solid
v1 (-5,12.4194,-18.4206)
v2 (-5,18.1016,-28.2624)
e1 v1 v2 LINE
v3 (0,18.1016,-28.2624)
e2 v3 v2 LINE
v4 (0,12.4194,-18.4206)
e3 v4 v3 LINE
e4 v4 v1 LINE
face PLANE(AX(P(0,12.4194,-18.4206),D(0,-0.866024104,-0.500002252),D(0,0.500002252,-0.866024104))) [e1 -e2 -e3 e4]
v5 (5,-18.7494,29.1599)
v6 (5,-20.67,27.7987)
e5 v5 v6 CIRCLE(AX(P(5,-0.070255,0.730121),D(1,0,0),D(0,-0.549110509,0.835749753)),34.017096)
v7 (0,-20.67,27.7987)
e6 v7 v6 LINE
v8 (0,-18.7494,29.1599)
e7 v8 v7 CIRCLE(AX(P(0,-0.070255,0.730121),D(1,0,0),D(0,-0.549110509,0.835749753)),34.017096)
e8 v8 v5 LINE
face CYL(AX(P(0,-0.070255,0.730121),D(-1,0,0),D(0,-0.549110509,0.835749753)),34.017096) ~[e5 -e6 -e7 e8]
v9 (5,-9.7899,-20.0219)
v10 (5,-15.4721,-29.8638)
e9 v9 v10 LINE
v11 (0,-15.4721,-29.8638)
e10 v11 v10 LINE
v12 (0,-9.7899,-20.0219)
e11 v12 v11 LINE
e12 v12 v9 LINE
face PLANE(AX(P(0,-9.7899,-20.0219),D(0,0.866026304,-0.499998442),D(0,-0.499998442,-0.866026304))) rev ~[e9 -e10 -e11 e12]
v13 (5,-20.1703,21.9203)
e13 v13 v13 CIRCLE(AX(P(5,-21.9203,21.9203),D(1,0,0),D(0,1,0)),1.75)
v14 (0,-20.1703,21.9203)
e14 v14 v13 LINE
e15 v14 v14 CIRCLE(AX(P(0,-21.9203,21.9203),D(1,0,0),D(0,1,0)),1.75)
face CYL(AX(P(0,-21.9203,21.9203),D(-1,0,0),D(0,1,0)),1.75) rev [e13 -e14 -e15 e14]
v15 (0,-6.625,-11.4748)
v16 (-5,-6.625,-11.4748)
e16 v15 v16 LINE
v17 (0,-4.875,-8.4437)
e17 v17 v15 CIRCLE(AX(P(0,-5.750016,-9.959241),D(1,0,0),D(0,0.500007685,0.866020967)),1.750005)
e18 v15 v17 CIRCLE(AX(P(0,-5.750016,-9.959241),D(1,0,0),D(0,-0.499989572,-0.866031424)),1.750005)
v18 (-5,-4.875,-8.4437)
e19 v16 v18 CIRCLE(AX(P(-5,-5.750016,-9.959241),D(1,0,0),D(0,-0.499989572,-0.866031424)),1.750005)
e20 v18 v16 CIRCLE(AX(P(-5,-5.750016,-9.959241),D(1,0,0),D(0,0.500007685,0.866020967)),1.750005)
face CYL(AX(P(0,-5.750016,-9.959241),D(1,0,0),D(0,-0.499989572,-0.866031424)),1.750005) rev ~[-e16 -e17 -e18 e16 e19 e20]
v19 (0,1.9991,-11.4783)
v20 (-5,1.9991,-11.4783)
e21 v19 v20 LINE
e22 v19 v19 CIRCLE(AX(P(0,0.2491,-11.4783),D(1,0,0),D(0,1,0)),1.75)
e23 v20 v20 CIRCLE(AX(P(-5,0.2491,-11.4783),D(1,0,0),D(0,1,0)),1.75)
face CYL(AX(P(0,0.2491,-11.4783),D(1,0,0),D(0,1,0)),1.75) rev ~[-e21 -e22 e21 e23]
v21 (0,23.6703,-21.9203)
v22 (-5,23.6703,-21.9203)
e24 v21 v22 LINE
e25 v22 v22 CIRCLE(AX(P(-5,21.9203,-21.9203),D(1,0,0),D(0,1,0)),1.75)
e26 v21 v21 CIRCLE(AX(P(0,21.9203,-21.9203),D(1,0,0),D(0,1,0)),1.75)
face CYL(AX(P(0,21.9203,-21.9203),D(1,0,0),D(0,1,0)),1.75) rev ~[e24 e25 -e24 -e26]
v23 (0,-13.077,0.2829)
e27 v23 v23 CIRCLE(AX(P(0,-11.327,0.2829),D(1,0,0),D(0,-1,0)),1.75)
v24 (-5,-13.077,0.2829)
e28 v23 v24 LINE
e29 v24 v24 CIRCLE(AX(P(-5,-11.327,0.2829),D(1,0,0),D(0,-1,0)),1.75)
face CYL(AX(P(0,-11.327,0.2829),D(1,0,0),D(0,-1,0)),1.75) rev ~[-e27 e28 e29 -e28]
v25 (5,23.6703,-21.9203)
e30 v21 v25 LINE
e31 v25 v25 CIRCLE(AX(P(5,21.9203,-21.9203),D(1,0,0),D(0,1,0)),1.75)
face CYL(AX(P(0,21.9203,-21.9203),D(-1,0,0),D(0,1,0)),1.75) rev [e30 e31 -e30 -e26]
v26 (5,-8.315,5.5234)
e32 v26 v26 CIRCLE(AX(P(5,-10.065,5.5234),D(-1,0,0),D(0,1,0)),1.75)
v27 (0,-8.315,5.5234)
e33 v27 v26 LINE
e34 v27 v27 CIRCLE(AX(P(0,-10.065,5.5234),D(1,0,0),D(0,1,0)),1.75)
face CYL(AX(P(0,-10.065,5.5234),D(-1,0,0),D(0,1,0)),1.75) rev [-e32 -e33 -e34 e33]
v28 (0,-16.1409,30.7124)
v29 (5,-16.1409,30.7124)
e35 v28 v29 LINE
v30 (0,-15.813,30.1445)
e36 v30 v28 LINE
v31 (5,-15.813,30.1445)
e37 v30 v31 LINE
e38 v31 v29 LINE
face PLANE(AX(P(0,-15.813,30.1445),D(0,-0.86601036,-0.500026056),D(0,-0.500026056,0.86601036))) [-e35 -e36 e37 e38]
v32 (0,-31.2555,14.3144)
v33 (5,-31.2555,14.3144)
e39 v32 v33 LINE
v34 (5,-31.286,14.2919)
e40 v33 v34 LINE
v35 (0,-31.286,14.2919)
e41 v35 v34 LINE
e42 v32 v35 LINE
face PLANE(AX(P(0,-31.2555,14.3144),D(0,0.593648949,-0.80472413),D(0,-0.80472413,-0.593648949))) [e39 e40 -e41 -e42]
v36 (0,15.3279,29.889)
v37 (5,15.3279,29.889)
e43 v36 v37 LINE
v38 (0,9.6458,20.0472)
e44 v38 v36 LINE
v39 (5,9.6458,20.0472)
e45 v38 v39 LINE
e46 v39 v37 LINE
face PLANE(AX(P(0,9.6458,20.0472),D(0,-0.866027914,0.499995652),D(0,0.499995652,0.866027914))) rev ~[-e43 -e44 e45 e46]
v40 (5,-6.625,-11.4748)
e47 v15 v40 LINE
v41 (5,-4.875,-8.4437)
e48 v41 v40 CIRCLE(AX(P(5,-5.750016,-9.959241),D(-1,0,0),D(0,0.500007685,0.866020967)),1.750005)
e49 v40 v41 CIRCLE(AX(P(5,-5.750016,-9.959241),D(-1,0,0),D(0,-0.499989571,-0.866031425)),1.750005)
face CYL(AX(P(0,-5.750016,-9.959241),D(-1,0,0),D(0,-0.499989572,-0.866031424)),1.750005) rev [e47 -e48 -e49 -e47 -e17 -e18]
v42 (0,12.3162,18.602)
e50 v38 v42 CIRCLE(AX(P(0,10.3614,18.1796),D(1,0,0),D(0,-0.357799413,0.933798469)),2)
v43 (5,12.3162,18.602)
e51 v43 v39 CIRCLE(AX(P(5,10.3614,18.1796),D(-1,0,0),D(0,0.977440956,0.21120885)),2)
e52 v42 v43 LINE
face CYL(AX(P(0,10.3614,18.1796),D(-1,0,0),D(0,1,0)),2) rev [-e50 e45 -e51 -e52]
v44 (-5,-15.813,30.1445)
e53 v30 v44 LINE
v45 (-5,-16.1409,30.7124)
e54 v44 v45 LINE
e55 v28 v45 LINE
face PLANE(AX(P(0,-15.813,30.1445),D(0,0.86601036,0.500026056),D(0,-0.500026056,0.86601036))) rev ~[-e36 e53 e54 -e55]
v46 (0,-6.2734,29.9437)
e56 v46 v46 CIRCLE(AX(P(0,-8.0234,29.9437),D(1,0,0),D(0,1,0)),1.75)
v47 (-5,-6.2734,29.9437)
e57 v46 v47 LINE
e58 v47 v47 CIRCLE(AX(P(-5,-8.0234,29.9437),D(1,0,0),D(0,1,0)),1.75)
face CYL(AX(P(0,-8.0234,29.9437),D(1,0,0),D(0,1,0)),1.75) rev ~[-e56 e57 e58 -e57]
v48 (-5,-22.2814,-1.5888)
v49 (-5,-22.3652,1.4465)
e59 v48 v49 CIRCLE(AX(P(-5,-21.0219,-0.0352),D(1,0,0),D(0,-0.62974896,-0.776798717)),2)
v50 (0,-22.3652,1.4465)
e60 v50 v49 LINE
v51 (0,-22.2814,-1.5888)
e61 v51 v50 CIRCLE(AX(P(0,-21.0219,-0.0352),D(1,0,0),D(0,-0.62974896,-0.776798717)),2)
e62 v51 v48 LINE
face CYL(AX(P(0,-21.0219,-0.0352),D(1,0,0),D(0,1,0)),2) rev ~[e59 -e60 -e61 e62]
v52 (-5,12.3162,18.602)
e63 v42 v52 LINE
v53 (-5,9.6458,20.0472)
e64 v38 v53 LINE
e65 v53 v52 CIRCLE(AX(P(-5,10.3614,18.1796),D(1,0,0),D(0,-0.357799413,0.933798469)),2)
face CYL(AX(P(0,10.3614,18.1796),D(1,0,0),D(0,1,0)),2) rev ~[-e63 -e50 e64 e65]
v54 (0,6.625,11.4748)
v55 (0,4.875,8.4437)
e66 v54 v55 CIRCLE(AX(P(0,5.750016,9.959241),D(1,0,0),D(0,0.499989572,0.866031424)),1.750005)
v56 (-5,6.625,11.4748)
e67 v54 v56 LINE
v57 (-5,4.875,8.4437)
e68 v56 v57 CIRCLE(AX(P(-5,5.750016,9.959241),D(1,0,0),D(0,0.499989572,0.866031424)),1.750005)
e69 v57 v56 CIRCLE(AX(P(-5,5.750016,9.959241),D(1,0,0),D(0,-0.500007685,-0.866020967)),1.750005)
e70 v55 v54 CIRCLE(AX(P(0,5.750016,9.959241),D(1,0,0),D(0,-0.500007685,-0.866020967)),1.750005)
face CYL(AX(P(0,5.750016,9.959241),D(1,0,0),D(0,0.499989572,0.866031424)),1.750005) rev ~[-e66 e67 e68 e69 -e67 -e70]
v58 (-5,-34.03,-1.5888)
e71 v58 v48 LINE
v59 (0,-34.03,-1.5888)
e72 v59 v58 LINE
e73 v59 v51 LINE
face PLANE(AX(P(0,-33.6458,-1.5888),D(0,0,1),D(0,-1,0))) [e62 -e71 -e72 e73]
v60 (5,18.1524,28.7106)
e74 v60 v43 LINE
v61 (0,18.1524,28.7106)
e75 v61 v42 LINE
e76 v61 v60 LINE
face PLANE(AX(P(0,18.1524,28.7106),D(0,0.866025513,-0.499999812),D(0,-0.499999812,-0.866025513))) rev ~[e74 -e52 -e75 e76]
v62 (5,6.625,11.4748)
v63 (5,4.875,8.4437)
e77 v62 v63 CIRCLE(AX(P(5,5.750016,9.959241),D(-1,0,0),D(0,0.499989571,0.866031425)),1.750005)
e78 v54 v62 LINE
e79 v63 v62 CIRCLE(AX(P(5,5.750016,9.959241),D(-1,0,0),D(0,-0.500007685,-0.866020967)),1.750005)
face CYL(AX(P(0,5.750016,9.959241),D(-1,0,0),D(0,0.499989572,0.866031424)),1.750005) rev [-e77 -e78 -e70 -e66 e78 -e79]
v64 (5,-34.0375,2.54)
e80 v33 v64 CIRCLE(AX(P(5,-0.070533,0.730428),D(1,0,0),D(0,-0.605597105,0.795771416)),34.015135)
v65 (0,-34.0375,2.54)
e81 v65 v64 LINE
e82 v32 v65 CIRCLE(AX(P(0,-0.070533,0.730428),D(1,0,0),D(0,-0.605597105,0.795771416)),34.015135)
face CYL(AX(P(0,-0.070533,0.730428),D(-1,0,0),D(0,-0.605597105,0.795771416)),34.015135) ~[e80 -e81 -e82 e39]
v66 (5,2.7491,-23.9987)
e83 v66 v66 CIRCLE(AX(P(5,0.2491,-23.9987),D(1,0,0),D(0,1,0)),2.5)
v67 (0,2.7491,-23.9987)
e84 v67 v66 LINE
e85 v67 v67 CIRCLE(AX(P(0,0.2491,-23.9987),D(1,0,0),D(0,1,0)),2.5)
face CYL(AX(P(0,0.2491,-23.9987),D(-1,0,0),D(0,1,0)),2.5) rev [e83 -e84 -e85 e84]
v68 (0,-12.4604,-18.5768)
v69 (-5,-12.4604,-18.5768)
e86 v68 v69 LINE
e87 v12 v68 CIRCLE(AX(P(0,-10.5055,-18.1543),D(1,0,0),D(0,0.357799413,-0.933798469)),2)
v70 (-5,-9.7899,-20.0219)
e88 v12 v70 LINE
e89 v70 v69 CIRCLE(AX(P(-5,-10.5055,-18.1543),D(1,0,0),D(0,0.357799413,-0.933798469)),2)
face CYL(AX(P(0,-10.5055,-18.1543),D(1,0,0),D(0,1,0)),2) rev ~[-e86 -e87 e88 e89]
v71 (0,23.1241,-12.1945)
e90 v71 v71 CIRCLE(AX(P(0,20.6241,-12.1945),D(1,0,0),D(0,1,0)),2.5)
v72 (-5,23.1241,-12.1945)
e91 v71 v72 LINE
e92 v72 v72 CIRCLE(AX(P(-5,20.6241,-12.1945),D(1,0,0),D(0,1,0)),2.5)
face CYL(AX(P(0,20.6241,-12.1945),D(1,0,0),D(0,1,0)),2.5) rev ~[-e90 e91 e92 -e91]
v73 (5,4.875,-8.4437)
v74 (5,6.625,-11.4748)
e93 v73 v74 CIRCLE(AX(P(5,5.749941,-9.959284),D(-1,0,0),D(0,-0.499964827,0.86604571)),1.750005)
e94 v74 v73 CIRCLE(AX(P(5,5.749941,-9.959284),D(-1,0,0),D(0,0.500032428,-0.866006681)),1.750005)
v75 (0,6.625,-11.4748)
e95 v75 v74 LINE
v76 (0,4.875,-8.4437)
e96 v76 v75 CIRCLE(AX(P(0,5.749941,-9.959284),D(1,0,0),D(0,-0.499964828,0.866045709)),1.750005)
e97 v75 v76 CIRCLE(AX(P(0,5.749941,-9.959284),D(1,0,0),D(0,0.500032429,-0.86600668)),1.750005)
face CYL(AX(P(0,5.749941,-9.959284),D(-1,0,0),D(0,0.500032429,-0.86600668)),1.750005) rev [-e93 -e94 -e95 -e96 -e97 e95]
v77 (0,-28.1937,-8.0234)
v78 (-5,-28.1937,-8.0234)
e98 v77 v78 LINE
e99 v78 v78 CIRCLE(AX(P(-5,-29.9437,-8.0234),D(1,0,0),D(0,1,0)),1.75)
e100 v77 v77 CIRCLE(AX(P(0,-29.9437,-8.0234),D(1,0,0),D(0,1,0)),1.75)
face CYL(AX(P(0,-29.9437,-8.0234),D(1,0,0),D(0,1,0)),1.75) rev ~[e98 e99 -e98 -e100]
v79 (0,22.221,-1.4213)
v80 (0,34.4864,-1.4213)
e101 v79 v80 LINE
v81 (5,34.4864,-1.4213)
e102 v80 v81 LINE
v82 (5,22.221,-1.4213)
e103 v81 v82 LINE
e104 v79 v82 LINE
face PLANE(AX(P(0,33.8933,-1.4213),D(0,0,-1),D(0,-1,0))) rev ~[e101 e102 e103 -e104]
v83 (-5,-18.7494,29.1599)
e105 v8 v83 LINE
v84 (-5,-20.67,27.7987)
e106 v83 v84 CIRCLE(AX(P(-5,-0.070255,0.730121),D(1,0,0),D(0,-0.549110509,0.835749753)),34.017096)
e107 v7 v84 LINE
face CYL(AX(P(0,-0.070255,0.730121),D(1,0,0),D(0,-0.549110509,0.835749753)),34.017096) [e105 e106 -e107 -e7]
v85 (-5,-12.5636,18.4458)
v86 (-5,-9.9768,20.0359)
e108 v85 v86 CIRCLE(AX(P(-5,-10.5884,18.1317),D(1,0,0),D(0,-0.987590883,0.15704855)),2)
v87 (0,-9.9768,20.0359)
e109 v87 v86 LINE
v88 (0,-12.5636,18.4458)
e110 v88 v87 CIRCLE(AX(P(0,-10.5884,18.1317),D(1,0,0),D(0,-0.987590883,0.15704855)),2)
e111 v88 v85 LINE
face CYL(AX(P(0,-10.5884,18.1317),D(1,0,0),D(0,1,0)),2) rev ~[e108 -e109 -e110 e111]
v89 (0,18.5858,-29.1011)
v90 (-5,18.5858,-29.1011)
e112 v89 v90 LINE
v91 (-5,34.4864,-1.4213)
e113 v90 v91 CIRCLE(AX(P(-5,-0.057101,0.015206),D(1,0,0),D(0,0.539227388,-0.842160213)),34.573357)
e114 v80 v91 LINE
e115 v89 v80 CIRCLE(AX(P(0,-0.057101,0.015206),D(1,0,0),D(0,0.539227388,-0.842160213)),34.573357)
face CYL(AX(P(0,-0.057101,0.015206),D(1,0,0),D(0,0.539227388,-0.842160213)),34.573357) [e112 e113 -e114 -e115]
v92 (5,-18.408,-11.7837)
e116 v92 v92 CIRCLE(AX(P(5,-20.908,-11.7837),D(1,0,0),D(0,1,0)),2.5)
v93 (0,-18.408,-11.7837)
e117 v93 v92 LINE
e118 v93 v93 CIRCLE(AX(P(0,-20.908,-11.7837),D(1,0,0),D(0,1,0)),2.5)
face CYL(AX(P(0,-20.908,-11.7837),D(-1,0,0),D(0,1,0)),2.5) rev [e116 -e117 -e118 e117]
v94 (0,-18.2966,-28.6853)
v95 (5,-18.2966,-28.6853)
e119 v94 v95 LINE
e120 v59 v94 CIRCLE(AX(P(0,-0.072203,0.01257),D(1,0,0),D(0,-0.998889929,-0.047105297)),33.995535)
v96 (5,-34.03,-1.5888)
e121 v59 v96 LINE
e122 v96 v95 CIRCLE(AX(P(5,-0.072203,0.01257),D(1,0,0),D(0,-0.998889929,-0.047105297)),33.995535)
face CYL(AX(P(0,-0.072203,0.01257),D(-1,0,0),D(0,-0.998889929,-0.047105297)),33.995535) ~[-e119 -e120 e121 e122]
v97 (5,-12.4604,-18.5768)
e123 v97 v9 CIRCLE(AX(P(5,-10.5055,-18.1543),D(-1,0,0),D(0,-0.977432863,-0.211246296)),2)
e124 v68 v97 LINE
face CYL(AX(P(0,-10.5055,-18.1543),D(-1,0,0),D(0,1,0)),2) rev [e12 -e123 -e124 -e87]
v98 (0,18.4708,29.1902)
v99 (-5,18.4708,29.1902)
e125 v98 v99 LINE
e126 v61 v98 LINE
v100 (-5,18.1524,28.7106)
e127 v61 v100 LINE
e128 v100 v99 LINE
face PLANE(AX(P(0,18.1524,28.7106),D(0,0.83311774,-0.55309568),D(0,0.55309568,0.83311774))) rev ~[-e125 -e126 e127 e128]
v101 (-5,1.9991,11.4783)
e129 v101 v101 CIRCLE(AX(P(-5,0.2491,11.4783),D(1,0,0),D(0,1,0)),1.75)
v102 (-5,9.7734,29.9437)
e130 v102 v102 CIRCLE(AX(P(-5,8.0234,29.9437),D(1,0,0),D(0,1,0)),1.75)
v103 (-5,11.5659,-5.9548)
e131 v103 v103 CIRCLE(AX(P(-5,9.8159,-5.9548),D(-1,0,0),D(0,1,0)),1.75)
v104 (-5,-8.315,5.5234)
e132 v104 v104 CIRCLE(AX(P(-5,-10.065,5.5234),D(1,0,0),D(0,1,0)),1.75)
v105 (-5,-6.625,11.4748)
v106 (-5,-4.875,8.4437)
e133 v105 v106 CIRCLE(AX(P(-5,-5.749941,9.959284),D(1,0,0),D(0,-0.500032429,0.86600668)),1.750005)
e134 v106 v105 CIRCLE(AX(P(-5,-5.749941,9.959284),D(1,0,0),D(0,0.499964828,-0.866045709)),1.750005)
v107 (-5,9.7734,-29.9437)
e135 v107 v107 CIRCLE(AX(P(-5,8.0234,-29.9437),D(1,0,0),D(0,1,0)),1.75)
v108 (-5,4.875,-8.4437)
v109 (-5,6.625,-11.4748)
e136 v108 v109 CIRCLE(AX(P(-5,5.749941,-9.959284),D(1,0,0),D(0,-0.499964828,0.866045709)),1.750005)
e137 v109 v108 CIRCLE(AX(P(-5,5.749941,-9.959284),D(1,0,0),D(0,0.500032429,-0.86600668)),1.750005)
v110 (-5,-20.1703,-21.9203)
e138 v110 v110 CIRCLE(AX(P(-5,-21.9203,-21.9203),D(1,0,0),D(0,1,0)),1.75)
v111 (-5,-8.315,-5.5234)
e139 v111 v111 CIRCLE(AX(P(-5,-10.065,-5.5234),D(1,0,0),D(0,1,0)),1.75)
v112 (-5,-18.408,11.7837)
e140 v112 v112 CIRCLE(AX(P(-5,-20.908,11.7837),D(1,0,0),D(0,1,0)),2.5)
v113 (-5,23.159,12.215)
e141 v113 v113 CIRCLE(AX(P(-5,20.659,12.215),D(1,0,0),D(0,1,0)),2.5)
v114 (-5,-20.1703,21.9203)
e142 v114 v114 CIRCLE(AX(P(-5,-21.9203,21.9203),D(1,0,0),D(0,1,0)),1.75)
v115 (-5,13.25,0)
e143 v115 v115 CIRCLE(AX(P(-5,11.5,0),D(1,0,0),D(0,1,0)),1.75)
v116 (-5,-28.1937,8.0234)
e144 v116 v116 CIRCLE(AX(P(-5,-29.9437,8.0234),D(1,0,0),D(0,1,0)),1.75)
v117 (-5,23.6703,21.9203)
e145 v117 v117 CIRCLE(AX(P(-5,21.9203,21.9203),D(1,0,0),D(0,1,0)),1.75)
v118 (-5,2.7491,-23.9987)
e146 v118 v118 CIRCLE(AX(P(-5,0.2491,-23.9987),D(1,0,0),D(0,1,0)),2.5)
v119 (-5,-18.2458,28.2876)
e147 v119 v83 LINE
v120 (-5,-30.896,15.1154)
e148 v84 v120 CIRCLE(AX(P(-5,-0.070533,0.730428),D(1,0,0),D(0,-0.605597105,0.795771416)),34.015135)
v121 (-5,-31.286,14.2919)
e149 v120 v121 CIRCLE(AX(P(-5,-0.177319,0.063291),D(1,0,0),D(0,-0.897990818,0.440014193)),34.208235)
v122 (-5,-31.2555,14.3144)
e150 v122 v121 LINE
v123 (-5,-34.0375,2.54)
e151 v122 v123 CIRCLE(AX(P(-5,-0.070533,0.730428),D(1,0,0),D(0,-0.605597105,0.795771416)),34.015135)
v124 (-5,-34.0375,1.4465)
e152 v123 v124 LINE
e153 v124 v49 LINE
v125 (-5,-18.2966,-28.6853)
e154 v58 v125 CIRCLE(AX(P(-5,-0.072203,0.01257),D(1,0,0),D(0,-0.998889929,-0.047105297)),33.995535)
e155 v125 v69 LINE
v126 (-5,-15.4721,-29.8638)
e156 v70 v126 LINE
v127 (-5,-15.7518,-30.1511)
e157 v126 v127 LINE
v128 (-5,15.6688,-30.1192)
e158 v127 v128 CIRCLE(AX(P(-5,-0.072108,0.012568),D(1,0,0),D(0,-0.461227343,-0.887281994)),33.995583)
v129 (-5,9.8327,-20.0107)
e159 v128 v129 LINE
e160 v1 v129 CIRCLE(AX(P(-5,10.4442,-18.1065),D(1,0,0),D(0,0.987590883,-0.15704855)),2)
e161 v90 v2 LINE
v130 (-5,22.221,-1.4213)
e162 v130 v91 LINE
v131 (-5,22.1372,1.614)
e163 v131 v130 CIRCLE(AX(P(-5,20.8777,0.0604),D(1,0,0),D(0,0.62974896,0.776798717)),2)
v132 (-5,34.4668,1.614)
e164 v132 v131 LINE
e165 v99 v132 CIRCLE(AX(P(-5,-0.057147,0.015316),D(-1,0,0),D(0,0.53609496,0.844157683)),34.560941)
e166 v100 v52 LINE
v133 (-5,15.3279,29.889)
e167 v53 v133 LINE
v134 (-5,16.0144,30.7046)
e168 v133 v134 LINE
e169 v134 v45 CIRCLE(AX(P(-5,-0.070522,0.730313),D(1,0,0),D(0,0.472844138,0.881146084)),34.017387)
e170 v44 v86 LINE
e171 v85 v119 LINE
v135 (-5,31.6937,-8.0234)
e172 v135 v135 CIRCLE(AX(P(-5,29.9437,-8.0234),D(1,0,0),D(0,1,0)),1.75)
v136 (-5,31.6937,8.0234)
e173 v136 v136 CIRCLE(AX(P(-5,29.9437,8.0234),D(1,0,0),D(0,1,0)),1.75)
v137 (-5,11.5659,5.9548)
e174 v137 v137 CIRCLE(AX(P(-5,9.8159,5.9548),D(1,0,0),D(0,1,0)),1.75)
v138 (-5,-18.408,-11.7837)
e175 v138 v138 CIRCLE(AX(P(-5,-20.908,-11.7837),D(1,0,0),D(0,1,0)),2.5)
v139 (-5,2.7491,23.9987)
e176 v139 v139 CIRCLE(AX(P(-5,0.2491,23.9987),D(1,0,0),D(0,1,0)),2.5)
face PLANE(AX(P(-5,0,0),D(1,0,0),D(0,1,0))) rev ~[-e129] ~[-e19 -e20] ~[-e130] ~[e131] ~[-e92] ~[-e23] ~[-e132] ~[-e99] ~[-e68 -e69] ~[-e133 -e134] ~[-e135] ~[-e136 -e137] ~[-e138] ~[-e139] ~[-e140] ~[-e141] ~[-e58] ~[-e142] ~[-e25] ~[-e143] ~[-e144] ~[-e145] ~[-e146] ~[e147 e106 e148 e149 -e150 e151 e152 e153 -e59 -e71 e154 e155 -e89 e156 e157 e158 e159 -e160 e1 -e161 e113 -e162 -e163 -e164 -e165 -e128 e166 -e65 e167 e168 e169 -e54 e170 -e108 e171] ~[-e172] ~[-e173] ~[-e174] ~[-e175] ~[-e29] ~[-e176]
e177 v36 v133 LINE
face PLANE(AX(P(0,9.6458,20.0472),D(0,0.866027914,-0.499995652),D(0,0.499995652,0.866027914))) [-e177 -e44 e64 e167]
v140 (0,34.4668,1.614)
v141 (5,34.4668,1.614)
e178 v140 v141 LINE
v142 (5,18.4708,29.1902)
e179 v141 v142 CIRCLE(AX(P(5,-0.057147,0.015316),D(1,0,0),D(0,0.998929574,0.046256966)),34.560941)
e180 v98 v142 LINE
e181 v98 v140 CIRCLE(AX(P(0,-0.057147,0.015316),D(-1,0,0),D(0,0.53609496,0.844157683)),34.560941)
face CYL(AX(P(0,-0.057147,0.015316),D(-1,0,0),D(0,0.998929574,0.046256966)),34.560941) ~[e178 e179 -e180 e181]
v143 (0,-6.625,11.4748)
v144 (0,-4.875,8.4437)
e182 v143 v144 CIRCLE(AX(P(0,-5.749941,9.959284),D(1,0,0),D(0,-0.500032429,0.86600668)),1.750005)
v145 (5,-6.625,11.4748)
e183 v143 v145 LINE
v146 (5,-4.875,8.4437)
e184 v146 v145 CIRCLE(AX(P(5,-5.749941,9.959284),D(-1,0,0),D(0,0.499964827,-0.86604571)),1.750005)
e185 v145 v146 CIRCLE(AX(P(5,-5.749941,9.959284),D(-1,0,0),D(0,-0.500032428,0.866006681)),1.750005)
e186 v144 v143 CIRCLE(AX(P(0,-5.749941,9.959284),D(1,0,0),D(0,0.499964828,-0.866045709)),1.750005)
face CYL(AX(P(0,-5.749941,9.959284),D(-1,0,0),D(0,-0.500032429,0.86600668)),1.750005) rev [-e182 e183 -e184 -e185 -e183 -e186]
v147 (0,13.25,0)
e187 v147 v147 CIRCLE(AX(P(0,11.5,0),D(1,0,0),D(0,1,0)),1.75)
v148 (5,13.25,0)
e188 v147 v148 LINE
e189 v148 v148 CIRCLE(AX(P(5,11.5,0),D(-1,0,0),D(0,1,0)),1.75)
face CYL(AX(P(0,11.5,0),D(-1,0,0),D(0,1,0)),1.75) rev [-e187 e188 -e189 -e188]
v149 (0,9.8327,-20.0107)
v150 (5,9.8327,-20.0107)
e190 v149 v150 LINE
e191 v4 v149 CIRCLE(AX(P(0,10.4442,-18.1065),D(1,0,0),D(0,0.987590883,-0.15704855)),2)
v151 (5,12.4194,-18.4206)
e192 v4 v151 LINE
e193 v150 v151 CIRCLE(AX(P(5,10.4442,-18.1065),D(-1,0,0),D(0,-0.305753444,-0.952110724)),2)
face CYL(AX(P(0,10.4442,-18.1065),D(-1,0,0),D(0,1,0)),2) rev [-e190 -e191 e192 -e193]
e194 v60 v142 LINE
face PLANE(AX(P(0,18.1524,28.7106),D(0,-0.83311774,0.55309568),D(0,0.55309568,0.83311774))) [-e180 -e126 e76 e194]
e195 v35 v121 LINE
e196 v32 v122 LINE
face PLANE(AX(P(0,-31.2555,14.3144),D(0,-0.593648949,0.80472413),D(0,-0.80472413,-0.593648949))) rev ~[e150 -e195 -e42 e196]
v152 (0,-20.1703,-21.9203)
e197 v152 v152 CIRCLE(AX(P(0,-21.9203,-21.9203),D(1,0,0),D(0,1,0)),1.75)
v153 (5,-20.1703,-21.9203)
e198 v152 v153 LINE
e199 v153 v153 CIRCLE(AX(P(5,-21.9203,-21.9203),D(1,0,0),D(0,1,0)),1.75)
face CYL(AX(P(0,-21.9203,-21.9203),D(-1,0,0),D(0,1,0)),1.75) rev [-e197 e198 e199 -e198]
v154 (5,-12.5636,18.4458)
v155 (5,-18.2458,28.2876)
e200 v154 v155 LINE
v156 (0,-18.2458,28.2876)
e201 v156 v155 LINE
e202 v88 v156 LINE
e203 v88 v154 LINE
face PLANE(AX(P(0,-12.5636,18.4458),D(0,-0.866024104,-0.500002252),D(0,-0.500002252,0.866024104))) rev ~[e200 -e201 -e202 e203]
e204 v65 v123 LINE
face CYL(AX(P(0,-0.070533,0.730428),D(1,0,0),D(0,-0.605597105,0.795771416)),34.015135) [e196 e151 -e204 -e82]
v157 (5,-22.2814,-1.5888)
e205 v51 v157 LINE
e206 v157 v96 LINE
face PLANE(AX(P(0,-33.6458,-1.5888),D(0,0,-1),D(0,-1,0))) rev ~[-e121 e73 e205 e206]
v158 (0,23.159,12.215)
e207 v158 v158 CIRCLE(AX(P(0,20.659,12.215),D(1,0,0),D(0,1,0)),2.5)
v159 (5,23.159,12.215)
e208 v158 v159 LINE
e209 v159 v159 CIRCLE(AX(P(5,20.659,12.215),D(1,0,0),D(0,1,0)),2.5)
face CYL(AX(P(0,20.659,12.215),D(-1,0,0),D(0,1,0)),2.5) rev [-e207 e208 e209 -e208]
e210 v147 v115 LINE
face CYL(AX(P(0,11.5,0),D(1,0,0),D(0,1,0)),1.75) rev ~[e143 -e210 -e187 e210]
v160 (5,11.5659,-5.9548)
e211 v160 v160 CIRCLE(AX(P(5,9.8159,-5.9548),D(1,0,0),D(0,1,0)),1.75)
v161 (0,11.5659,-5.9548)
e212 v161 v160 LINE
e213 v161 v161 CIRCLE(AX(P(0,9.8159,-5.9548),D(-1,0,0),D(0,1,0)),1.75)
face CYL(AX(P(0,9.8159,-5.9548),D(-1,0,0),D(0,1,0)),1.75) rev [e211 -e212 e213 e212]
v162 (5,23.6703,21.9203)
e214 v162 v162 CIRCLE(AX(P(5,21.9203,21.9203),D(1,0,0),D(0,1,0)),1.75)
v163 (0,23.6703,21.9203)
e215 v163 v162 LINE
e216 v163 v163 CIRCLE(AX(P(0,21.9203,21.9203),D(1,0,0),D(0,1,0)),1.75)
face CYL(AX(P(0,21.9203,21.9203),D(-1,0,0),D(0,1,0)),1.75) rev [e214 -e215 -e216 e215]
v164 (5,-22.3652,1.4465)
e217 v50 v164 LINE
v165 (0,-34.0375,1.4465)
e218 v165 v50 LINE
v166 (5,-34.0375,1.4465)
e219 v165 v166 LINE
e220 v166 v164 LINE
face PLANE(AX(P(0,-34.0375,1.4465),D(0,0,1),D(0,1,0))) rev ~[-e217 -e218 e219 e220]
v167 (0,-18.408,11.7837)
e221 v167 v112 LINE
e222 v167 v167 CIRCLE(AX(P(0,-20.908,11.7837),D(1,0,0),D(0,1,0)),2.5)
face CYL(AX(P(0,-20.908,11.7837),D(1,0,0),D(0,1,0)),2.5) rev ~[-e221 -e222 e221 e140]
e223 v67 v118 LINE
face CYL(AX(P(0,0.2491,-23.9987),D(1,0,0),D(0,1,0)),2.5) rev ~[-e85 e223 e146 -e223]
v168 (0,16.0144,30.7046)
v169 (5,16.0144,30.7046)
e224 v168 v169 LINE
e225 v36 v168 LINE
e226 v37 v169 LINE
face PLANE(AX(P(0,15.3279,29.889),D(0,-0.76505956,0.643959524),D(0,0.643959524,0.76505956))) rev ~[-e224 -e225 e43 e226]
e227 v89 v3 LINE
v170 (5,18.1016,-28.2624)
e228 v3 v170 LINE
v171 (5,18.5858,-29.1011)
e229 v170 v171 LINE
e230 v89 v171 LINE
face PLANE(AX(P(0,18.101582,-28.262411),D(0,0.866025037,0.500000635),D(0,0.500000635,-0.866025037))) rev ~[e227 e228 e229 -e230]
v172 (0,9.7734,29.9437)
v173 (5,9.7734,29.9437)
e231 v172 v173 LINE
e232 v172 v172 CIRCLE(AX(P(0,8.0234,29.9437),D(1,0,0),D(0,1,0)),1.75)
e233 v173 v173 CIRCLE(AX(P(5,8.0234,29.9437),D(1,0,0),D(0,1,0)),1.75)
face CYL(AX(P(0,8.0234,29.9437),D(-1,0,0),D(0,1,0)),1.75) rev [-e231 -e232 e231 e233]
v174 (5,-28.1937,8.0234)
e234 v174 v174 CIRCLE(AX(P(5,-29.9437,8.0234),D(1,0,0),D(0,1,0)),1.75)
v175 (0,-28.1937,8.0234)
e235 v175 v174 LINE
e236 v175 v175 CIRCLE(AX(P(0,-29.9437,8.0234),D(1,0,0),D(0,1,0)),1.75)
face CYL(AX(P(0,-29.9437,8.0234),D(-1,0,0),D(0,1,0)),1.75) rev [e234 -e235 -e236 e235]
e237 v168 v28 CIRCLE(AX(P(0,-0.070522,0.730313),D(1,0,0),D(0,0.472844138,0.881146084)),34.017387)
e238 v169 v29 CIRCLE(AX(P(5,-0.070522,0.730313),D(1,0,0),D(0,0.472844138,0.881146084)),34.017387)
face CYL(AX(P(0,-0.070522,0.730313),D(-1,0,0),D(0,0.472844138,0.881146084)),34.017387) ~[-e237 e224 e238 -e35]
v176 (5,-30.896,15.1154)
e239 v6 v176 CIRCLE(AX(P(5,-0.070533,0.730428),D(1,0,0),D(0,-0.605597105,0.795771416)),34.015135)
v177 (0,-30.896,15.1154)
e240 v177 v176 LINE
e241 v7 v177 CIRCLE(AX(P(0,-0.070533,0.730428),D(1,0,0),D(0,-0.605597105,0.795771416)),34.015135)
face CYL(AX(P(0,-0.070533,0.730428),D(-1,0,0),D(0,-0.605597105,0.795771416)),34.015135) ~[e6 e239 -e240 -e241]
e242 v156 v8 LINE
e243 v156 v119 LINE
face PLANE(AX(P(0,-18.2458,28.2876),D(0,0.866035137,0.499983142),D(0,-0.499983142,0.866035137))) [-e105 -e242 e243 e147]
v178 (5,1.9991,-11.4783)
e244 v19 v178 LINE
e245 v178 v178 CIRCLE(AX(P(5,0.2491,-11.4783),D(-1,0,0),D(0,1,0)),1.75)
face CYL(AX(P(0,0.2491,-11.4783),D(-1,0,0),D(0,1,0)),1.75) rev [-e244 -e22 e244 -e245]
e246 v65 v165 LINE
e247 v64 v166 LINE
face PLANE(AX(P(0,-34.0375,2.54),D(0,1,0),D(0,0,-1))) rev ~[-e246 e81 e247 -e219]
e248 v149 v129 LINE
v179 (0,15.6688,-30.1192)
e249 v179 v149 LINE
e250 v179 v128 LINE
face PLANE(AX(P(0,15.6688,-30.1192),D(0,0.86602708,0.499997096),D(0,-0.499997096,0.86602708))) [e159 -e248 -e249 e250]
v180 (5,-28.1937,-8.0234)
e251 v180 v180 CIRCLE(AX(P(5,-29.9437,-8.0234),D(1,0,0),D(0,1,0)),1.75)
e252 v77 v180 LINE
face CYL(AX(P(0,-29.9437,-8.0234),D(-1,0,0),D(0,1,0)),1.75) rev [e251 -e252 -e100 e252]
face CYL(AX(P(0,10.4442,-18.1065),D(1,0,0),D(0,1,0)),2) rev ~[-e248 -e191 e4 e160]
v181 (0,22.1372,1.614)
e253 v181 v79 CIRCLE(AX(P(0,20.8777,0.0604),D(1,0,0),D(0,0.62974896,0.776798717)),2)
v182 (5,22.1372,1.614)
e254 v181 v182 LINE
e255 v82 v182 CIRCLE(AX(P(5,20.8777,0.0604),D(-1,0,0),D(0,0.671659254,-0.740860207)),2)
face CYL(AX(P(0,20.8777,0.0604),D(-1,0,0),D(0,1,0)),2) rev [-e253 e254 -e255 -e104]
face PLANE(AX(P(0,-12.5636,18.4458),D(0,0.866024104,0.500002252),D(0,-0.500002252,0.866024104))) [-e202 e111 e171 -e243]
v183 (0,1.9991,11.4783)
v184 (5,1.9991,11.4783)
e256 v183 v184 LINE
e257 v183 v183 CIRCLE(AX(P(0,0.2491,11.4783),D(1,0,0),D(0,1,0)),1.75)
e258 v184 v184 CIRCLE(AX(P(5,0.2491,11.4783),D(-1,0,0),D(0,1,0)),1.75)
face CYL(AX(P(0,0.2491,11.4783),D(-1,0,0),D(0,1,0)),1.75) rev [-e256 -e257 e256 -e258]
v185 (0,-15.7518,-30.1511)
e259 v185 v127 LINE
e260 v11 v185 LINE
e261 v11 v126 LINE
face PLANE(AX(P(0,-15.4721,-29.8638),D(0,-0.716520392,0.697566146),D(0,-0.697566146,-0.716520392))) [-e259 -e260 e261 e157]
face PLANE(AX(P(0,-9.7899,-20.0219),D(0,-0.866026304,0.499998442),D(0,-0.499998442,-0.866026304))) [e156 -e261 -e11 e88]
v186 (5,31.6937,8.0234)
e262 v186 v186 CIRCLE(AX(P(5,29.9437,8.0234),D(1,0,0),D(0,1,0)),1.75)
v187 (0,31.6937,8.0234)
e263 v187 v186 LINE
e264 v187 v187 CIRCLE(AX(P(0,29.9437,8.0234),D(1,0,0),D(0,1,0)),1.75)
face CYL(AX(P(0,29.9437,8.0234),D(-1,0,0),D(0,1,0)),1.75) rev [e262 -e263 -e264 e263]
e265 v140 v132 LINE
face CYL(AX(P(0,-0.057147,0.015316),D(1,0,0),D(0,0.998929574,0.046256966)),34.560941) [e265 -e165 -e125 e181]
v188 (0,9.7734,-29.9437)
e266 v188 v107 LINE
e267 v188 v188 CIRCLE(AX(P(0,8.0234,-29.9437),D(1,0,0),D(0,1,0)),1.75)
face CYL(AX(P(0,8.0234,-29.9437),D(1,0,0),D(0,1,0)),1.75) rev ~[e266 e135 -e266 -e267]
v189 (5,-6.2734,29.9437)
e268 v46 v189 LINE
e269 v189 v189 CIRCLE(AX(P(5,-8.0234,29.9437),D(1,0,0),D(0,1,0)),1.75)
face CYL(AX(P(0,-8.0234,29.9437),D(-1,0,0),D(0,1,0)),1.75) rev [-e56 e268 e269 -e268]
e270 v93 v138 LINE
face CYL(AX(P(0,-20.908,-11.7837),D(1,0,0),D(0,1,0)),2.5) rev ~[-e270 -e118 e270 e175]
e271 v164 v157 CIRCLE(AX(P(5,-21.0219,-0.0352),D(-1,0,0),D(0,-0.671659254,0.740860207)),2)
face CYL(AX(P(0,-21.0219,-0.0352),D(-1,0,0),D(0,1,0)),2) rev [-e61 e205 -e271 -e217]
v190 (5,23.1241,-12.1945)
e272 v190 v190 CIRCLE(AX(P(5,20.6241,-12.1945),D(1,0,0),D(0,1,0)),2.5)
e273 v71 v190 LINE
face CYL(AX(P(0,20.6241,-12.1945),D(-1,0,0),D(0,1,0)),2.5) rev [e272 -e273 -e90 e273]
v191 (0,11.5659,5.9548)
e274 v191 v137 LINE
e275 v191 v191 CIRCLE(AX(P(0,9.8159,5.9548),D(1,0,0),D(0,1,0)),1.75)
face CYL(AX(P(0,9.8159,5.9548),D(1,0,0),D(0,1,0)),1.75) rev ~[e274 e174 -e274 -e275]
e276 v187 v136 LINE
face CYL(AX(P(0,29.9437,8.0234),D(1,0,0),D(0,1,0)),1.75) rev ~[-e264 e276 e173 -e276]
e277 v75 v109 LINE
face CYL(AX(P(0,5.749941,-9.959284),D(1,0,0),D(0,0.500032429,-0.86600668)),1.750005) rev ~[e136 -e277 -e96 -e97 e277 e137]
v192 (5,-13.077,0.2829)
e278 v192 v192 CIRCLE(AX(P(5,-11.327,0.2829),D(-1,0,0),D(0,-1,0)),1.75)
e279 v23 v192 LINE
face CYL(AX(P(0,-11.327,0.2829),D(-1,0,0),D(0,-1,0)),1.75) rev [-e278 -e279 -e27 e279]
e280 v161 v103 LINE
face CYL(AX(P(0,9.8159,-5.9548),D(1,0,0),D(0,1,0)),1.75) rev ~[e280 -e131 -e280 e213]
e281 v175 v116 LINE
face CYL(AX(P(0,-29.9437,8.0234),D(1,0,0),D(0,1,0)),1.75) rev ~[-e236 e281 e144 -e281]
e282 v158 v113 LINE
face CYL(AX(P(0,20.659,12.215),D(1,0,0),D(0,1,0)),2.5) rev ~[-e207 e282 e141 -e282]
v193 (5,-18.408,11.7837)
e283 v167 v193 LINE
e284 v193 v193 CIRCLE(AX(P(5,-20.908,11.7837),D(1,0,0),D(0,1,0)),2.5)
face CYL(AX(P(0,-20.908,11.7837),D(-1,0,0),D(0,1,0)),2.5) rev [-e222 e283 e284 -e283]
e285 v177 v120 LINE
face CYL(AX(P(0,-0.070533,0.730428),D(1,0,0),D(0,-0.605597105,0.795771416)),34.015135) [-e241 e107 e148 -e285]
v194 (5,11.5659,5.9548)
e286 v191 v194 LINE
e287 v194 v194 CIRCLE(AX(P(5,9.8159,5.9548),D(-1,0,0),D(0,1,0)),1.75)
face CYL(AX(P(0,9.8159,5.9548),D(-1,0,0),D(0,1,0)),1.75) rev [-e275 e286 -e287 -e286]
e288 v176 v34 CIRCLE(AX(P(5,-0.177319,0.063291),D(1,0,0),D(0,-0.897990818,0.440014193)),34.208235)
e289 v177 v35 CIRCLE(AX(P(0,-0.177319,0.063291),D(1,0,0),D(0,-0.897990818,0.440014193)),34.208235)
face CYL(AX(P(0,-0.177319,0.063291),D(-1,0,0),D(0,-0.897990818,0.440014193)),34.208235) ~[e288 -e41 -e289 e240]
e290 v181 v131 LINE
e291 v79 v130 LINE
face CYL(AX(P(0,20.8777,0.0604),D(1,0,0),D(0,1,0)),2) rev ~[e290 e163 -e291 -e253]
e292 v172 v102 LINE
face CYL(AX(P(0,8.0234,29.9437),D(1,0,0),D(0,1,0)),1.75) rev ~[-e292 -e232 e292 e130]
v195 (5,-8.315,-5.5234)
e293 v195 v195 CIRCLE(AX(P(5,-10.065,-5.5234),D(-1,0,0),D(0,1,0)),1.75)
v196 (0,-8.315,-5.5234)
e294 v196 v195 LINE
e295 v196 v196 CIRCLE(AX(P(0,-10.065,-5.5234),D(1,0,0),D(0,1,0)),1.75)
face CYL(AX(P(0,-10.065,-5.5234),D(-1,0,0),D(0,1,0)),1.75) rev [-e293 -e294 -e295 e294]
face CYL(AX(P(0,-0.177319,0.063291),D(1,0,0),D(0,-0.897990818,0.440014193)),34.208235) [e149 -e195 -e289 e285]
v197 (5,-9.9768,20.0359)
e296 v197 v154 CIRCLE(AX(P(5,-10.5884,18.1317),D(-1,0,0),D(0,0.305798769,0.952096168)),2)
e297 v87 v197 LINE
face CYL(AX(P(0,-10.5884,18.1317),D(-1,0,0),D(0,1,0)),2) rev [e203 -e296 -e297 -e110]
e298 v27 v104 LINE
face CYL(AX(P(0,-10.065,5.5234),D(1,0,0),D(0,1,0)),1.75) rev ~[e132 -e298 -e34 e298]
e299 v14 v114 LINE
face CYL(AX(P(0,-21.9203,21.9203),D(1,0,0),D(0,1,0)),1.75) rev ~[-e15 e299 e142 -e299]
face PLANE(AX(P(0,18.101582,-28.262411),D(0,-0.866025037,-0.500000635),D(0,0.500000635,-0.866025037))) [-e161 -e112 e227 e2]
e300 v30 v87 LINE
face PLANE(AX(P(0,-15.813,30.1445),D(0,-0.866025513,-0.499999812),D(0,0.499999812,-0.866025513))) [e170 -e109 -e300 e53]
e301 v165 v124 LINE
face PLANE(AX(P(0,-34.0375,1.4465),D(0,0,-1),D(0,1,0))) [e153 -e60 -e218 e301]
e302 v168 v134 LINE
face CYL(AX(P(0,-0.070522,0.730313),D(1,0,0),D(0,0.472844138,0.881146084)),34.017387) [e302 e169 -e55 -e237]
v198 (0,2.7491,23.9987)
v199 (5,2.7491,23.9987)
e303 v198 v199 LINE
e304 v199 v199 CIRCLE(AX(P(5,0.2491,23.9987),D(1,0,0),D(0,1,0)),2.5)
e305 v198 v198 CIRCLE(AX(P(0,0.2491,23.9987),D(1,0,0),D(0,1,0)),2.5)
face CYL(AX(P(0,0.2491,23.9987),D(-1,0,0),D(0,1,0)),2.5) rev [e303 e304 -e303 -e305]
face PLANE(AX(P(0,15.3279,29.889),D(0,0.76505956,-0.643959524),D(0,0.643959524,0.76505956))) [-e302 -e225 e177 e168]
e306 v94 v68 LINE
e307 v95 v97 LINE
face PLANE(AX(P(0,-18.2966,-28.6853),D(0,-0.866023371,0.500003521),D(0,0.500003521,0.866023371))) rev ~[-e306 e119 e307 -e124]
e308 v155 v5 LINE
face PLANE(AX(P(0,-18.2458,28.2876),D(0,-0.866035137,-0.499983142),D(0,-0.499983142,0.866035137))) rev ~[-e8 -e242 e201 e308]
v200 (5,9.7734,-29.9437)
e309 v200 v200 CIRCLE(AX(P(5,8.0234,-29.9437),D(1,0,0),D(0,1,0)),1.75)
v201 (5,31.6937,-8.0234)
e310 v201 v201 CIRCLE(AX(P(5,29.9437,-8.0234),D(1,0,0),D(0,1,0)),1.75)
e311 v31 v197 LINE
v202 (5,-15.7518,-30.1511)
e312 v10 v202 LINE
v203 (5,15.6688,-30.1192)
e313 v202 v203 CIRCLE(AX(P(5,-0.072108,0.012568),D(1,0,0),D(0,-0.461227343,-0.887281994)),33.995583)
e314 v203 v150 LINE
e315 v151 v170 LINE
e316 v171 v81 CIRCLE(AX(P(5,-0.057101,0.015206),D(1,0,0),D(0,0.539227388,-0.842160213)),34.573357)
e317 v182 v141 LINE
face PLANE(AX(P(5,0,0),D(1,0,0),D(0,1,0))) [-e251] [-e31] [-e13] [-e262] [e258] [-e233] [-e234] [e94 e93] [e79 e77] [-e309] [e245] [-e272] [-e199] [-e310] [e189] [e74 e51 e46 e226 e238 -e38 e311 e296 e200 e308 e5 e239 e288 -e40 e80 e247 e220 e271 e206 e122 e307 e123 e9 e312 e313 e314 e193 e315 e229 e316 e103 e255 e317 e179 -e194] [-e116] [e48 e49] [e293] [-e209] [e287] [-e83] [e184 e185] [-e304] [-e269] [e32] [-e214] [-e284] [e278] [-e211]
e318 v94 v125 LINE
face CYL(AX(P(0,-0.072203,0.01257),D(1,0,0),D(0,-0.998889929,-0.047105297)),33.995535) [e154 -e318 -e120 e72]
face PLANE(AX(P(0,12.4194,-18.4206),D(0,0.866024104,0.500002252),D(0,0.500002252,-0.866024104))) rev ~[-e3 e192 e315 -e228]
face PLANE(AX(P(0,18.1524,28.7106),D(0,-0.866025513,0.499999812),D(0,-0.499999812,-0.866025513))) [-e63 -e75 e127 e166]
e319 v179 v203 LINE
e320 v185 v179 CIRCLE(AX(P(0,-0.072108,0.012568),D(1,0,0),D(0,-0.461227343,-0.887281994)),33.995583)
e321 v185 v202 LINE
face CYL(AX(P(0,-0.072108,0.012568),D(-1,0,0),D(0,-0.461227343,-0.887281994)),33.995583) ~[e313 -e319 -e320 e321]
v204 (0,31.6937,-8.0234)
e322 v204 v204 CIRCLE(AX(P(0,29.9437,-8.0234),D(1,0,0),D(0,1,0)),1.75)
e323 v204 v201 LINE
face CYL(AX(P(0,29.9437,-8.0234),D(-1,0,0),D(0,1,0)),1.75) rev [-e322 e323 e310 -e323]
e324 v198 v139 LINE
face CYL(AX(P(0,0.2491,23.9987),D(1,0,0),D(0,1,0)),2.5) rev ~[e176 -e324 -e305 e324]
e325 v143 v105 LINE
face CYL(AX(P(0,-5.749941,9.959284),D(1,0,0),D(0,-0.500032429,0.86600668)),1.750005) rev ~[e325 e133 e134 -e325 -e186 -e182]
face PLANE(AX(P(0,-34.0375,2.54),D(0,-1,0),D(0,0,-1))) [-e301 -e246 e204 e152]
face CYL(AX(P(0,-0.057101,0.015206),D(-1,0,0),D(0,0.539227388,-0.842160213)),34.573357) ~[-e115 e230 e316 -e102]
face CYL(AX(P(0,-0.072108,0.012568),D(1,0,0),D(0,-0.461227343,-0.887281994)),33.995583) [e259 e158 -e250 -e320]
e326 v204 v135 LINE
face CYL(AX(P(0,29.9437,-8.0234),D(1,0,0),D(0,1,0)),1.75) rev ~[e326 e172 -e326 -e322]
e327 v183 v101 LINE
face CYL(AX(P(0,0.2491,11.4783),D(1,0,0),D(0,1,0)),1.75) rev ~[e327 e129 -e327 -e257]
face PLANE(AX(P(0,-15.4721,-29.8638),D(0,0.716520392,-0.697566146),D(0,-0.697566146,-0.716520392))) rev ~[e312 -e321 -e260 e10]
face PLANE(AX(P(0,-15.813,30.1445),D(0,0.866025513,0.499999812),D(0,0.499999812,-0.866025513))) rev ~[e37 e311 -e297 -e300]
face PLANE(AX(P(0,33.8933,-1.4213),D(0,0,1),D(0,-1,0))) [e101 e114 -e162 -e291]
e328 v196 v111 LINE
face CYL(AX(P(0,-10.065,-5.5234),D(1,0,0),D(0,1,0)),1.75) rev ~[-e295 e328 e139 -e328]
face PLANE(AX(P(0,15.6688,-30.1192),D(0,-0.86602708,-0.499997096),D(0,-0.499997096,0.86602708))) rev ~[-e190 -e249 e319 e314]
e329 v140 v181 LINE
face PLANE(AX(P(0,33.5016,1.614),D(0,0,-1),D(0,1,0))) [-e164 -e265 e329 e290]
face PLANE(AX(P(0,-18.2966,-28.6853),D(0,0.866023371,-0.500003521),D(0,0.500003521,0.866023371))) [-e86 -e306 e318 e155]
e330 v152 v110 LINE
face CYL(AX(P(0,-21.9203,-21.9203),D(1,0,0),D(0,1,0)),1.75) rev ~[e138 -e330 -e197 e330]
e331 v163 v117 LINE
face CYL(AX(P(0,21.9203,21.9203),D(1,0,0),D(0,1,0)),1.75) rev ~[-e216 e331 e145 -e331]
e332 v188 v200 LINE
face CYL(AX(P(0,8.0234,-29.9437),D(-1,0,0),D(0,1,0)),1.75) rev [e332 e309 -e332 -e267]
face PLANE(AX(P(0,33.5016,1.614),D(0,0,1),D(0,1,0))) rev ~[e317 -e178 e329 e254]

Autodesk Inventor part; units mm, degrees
ref_plane "YZ Plane" through (0, 0, 0) normal (1, 0, 0) x (0, 1, 0)
ref_plane "XZ Plane" through (0, 0, 0) normal (0, 1, 0) x (-1, 0, 0)
ref_plane "XY Plane" through (0, 0, 0) normal (0, 0, 1) x (1, 0, 0)
sketch "Sketch2" plane through (0, 0, 0) normal (1, 0, 0) x (0, 1, 0)
  circle A0 centre (29.9437, -8.0234) radius 1.75
  circle A1 centre (21.9203, -21.9203) radius 1.75
  circle A2 centre (20.6241, -12.1945) radius 2.5
  circle A3 centre (9.8159, -5.9548) radius 1.75
  arc A4 (9.75, 0) -> (13.25, 0) centre (11.5, 0) ccw
  arc A5 (6.625, -11.4748) -> (4.875, -8.4437) centre (5.75, -9.9593) ccw
  arc A6 (4.875, 8.4437) -> (6.625, 11.4748) centre (5.75, 9.9593) ccw
  circle A7 centre (21.9203, 21.9203) radius 1.75
  circle A8 centre (9.8159, 5.9548) radius 1.75
  arc A9 (13.25, 0) -> (9.75, 0) centre (11.5, 0) ccw
  circle A10 centre (20.659, 12.215) radius 2.5
  circle A11 centre (29.9437, 8.0234) radius 1.75
  arc A12 (-6.625, -11.4748) -> (-4.875, -8.4437) centre (-5.75, -9.9593) ccw
  circle A13 centre (0.2491, -11.4783) radius 1.75
  arc A14 (4.875, -8.4437) -> (6.625, -11.4748) centre (5.75, -9.9593) ccw
  circle A15 centre (0.2491, -23.9987) radius 2.5
  circle A16 centre (8.0234, -29.9437) radius 1.75
  circle A17 centre (-29.9437, 8.0234) radius 1.75
  arc A18 (-20.67, 27.7987) -> (-34.0375, 2.54) centre (-0.0705, 0.7304) ccw
  circle A19 centre (-21.9203, 21.9203) radius 1.75
  circle A20 centre (-20.908, 11.7837) radius 2.5
  circle A21 centre (-8.0234, 29.9437) radius 1.75
  circle A22 centre (0.2491, 23.9987) radius 2.5
  circle A23 centre (8.0234, 29.9437) radius 1.75
  circle A24 centre (-10.065, 5.5234) radius 1.75
  arc A25 (-6.625, 11.4748) -> (-4.875, 8.4437) centre (-5.75, 9.9593) ccw
  arc A26 (-9.577, 0.2829) -> (-13.077, 0.2829) centre (-11.327, 0.2829) ccw
  arc A27 (-4.875, 8.4437) -> (-6.625, 11.4748) centre (-5.75, 9.9593) ccw
  circle A28 centre (0.2491, 11.4783) radius 1.75
  arc A29 (6.625, 11.4748) -> (4.875, 8.4437) centre (5.75, 9.9593) ccw
  circle A30 centre (-10.065, -5.5234) radius 1.75
  arc A31 (-13.077, 0.2829) -> (-9.577, 0.2829) centre (-11.327, 0.2829) ccw
  circle A32 centre (-29.9437, -8.0234) radius 1.75
  circle A33 centre (-20.908, -11.7837) radius 2.5
  arc A34 (-4.875, -8.4437) -> (-6.625, -11.4748) centre (-5.75, -9.9593) ccw
  circle A35 centre (-21.9203, -21.9203) radius 1.75
  circle A36 centre (-0.0705, 0.7304) radius 11.5
  circle A37 centre (-0.0567, -0.0164) radius 16
  circle A38 centre (20.8777, 0.0604) radius 2
  circle A39 centre (10.3614, 18.1796) radius 2
  circle A40 centre (-10.5884, 18.1317) radius 2
  circle A41 centre (-21.0219, -0.0352) radius 2
  circle A42 centre (-10.5055, -18.1543) radius 2
  circle A43 centre (10.4442, -18.1065) radius 2
  line L0 (22.1372, 1.614) -> (33.5016, 1.614)
  line L1 (33.8933, -1.4213) -> (22.221, -1.4213)
  circle A44 centre (-0.0721, 0.0126) radius 21
  circle A45 centre (10.3614, 18.1796) radius 2
  line L2 (18.1524, 28.7106) -> (12.3162, 18.602)
  line L3 (9.6458, 20.0472) -> (15.3279, 29.889)
  circle A46 centre (-10.5884, 18.1317) radius 2
  line L4 (-15.813, 30.1445) -> (-9.9768, 20.0359)
  line L5 (-12.5636, 18.4458) -> (-18.2458, 28.2876)
  circle A47 centre (-21.0219, -0.0352) radius 2
  line L6 (-34.0375, 1.4465) -> (-22.3652, 1.4465)
  line L7 (-22.2814, -1.5888) -> (-33.6458, -1.5888)
  circle A48 centre (-10.5055, -18.1543) radius 2
  line L8 (-18.2966, -28.6853) -> (-12.4604, -18.5768)
  line L9 (-9.7899, -20.0219) -> (-15.4721, -29.8638)
  circle A49 centre (10.4442, -18.1065) radius 2
  line L10 (15.6688, -30.1192) -> (9.8327, -20.0107)
  line L11 (12.4194, -18.4206) -> (18.1016, -28.2624)
  line L12 (18.4756, 29.187) -> (19.0144, 28.8293)
  line L13 (-34.0375, 2.54) -> (-34.0375, 1.4465)
  arc A50 (-30.896, 15.1154) -> (-31.286, 14.2919) centre (-0.0721, 0.0126) ccw
  arc A51 (18.1835, -28.6656) -> (33.8029, -2.8495) centre (-0.0721, 0.0126) ccw
  arc A52 (-15.7518, -30.1511) -> (15.6688, -30.1192) centre (-0.0721, 0.0126) ccw
  arc A53 (-34.03, -1.5888) -> (-18.2966, -28.6853) centre (-0.0721, 0.0126) ccw
  line L14 (-31.2555, 14.3144) -> (-31.286, 14.2919)
  line L15 (-18.2458, 28.2876) -> (-18.7494, 29.1599)
  line L16 (-15.813, 30.1445) -> (-16.1409, 30.7124)
  arc A54 (16.0144, 30.7046) -> (-16.1409, 30.7124) centre (-0.0705, 0.7304) ccw
  arc A55 (-18.7494, 29.1599) -> (-30.896, 15.1154) centre (-0.0705, 0.7304) ccw
  line L17 (15.3279, 29.889) -> (16.0144, 30.7046)
  arc A56 (33.4181, -5.8277) -> (33.8933, -1.4213) centre (-0.0721, 0.0126) ccw
  line L18 (-15.4721, -29.8638) -> (-15.7518, -30.1511)
  line L19 (18.1524, 28.7106) -> (18.4708, 29.1902)
  arc A57 (34.4668, 1.614) -> (18.4708, 29.1902) centre (-0.0572, 0.0153) ccw
  line L20 (33.5016, 1.614) -> (34.4668, 1.614)
  arc A58 (18.5858, -29.1011) -> (34.4864, -1.4213) centre (-0.0572, 0.0153) ccw
  line L21 (12.4194, -18.4206) -> (18.5858, -29.1011)
  line L22 (22.221, -1.4213) -> (34.4864, -1.4213)
  line L23 (-33.6458, -1.5888) -> (-34.03, -1.5888)
  circle A59 centre (-7.6237, -27.9702) radius 1.75
  point P0 (13.25, 0)
  dimension "d1" = 1.75
  dimension "d2" = 5
  dimension "d8" = 3
  dimension "d9" = 23
  dimension "d11" = 32
  dimension "d18" = 360
  dimension "d23" = 42
  dimension "d26" = 360
extrude "Extrusion1" add sketch "Sketch2" along normal mid plane 10 contours A3 A36 A5 A14 A13 A12 A34 A30 A31 A26 A24 A25 A27 A28 A29 A6 A8 A9 A4 | A55 L15 L5 A40 A44 A41 L6 L13 A18 | A18 L14 A50 | L4 L16 A54 L17 L3 A39 A44 A40 | A40 A44 A39 A38 A43 A42 A41 | A41 A44 A42 L8 A53 L23 L7 | A39 L2 L19 A57 L20 L0 A38 A44 | A44 A43 L10 A52 L18 L9 A42 | A38 L1 A56 A51 L21 L11 A43 A44 | L22 A58 L21 A51 A56 | A37 | A59
sketch "Sketch9" plane through (5, 0, 0) normal (1, 0, 0) x (0, 0, -1)
  point P0 (0, 0)
properties part number "hw10"
